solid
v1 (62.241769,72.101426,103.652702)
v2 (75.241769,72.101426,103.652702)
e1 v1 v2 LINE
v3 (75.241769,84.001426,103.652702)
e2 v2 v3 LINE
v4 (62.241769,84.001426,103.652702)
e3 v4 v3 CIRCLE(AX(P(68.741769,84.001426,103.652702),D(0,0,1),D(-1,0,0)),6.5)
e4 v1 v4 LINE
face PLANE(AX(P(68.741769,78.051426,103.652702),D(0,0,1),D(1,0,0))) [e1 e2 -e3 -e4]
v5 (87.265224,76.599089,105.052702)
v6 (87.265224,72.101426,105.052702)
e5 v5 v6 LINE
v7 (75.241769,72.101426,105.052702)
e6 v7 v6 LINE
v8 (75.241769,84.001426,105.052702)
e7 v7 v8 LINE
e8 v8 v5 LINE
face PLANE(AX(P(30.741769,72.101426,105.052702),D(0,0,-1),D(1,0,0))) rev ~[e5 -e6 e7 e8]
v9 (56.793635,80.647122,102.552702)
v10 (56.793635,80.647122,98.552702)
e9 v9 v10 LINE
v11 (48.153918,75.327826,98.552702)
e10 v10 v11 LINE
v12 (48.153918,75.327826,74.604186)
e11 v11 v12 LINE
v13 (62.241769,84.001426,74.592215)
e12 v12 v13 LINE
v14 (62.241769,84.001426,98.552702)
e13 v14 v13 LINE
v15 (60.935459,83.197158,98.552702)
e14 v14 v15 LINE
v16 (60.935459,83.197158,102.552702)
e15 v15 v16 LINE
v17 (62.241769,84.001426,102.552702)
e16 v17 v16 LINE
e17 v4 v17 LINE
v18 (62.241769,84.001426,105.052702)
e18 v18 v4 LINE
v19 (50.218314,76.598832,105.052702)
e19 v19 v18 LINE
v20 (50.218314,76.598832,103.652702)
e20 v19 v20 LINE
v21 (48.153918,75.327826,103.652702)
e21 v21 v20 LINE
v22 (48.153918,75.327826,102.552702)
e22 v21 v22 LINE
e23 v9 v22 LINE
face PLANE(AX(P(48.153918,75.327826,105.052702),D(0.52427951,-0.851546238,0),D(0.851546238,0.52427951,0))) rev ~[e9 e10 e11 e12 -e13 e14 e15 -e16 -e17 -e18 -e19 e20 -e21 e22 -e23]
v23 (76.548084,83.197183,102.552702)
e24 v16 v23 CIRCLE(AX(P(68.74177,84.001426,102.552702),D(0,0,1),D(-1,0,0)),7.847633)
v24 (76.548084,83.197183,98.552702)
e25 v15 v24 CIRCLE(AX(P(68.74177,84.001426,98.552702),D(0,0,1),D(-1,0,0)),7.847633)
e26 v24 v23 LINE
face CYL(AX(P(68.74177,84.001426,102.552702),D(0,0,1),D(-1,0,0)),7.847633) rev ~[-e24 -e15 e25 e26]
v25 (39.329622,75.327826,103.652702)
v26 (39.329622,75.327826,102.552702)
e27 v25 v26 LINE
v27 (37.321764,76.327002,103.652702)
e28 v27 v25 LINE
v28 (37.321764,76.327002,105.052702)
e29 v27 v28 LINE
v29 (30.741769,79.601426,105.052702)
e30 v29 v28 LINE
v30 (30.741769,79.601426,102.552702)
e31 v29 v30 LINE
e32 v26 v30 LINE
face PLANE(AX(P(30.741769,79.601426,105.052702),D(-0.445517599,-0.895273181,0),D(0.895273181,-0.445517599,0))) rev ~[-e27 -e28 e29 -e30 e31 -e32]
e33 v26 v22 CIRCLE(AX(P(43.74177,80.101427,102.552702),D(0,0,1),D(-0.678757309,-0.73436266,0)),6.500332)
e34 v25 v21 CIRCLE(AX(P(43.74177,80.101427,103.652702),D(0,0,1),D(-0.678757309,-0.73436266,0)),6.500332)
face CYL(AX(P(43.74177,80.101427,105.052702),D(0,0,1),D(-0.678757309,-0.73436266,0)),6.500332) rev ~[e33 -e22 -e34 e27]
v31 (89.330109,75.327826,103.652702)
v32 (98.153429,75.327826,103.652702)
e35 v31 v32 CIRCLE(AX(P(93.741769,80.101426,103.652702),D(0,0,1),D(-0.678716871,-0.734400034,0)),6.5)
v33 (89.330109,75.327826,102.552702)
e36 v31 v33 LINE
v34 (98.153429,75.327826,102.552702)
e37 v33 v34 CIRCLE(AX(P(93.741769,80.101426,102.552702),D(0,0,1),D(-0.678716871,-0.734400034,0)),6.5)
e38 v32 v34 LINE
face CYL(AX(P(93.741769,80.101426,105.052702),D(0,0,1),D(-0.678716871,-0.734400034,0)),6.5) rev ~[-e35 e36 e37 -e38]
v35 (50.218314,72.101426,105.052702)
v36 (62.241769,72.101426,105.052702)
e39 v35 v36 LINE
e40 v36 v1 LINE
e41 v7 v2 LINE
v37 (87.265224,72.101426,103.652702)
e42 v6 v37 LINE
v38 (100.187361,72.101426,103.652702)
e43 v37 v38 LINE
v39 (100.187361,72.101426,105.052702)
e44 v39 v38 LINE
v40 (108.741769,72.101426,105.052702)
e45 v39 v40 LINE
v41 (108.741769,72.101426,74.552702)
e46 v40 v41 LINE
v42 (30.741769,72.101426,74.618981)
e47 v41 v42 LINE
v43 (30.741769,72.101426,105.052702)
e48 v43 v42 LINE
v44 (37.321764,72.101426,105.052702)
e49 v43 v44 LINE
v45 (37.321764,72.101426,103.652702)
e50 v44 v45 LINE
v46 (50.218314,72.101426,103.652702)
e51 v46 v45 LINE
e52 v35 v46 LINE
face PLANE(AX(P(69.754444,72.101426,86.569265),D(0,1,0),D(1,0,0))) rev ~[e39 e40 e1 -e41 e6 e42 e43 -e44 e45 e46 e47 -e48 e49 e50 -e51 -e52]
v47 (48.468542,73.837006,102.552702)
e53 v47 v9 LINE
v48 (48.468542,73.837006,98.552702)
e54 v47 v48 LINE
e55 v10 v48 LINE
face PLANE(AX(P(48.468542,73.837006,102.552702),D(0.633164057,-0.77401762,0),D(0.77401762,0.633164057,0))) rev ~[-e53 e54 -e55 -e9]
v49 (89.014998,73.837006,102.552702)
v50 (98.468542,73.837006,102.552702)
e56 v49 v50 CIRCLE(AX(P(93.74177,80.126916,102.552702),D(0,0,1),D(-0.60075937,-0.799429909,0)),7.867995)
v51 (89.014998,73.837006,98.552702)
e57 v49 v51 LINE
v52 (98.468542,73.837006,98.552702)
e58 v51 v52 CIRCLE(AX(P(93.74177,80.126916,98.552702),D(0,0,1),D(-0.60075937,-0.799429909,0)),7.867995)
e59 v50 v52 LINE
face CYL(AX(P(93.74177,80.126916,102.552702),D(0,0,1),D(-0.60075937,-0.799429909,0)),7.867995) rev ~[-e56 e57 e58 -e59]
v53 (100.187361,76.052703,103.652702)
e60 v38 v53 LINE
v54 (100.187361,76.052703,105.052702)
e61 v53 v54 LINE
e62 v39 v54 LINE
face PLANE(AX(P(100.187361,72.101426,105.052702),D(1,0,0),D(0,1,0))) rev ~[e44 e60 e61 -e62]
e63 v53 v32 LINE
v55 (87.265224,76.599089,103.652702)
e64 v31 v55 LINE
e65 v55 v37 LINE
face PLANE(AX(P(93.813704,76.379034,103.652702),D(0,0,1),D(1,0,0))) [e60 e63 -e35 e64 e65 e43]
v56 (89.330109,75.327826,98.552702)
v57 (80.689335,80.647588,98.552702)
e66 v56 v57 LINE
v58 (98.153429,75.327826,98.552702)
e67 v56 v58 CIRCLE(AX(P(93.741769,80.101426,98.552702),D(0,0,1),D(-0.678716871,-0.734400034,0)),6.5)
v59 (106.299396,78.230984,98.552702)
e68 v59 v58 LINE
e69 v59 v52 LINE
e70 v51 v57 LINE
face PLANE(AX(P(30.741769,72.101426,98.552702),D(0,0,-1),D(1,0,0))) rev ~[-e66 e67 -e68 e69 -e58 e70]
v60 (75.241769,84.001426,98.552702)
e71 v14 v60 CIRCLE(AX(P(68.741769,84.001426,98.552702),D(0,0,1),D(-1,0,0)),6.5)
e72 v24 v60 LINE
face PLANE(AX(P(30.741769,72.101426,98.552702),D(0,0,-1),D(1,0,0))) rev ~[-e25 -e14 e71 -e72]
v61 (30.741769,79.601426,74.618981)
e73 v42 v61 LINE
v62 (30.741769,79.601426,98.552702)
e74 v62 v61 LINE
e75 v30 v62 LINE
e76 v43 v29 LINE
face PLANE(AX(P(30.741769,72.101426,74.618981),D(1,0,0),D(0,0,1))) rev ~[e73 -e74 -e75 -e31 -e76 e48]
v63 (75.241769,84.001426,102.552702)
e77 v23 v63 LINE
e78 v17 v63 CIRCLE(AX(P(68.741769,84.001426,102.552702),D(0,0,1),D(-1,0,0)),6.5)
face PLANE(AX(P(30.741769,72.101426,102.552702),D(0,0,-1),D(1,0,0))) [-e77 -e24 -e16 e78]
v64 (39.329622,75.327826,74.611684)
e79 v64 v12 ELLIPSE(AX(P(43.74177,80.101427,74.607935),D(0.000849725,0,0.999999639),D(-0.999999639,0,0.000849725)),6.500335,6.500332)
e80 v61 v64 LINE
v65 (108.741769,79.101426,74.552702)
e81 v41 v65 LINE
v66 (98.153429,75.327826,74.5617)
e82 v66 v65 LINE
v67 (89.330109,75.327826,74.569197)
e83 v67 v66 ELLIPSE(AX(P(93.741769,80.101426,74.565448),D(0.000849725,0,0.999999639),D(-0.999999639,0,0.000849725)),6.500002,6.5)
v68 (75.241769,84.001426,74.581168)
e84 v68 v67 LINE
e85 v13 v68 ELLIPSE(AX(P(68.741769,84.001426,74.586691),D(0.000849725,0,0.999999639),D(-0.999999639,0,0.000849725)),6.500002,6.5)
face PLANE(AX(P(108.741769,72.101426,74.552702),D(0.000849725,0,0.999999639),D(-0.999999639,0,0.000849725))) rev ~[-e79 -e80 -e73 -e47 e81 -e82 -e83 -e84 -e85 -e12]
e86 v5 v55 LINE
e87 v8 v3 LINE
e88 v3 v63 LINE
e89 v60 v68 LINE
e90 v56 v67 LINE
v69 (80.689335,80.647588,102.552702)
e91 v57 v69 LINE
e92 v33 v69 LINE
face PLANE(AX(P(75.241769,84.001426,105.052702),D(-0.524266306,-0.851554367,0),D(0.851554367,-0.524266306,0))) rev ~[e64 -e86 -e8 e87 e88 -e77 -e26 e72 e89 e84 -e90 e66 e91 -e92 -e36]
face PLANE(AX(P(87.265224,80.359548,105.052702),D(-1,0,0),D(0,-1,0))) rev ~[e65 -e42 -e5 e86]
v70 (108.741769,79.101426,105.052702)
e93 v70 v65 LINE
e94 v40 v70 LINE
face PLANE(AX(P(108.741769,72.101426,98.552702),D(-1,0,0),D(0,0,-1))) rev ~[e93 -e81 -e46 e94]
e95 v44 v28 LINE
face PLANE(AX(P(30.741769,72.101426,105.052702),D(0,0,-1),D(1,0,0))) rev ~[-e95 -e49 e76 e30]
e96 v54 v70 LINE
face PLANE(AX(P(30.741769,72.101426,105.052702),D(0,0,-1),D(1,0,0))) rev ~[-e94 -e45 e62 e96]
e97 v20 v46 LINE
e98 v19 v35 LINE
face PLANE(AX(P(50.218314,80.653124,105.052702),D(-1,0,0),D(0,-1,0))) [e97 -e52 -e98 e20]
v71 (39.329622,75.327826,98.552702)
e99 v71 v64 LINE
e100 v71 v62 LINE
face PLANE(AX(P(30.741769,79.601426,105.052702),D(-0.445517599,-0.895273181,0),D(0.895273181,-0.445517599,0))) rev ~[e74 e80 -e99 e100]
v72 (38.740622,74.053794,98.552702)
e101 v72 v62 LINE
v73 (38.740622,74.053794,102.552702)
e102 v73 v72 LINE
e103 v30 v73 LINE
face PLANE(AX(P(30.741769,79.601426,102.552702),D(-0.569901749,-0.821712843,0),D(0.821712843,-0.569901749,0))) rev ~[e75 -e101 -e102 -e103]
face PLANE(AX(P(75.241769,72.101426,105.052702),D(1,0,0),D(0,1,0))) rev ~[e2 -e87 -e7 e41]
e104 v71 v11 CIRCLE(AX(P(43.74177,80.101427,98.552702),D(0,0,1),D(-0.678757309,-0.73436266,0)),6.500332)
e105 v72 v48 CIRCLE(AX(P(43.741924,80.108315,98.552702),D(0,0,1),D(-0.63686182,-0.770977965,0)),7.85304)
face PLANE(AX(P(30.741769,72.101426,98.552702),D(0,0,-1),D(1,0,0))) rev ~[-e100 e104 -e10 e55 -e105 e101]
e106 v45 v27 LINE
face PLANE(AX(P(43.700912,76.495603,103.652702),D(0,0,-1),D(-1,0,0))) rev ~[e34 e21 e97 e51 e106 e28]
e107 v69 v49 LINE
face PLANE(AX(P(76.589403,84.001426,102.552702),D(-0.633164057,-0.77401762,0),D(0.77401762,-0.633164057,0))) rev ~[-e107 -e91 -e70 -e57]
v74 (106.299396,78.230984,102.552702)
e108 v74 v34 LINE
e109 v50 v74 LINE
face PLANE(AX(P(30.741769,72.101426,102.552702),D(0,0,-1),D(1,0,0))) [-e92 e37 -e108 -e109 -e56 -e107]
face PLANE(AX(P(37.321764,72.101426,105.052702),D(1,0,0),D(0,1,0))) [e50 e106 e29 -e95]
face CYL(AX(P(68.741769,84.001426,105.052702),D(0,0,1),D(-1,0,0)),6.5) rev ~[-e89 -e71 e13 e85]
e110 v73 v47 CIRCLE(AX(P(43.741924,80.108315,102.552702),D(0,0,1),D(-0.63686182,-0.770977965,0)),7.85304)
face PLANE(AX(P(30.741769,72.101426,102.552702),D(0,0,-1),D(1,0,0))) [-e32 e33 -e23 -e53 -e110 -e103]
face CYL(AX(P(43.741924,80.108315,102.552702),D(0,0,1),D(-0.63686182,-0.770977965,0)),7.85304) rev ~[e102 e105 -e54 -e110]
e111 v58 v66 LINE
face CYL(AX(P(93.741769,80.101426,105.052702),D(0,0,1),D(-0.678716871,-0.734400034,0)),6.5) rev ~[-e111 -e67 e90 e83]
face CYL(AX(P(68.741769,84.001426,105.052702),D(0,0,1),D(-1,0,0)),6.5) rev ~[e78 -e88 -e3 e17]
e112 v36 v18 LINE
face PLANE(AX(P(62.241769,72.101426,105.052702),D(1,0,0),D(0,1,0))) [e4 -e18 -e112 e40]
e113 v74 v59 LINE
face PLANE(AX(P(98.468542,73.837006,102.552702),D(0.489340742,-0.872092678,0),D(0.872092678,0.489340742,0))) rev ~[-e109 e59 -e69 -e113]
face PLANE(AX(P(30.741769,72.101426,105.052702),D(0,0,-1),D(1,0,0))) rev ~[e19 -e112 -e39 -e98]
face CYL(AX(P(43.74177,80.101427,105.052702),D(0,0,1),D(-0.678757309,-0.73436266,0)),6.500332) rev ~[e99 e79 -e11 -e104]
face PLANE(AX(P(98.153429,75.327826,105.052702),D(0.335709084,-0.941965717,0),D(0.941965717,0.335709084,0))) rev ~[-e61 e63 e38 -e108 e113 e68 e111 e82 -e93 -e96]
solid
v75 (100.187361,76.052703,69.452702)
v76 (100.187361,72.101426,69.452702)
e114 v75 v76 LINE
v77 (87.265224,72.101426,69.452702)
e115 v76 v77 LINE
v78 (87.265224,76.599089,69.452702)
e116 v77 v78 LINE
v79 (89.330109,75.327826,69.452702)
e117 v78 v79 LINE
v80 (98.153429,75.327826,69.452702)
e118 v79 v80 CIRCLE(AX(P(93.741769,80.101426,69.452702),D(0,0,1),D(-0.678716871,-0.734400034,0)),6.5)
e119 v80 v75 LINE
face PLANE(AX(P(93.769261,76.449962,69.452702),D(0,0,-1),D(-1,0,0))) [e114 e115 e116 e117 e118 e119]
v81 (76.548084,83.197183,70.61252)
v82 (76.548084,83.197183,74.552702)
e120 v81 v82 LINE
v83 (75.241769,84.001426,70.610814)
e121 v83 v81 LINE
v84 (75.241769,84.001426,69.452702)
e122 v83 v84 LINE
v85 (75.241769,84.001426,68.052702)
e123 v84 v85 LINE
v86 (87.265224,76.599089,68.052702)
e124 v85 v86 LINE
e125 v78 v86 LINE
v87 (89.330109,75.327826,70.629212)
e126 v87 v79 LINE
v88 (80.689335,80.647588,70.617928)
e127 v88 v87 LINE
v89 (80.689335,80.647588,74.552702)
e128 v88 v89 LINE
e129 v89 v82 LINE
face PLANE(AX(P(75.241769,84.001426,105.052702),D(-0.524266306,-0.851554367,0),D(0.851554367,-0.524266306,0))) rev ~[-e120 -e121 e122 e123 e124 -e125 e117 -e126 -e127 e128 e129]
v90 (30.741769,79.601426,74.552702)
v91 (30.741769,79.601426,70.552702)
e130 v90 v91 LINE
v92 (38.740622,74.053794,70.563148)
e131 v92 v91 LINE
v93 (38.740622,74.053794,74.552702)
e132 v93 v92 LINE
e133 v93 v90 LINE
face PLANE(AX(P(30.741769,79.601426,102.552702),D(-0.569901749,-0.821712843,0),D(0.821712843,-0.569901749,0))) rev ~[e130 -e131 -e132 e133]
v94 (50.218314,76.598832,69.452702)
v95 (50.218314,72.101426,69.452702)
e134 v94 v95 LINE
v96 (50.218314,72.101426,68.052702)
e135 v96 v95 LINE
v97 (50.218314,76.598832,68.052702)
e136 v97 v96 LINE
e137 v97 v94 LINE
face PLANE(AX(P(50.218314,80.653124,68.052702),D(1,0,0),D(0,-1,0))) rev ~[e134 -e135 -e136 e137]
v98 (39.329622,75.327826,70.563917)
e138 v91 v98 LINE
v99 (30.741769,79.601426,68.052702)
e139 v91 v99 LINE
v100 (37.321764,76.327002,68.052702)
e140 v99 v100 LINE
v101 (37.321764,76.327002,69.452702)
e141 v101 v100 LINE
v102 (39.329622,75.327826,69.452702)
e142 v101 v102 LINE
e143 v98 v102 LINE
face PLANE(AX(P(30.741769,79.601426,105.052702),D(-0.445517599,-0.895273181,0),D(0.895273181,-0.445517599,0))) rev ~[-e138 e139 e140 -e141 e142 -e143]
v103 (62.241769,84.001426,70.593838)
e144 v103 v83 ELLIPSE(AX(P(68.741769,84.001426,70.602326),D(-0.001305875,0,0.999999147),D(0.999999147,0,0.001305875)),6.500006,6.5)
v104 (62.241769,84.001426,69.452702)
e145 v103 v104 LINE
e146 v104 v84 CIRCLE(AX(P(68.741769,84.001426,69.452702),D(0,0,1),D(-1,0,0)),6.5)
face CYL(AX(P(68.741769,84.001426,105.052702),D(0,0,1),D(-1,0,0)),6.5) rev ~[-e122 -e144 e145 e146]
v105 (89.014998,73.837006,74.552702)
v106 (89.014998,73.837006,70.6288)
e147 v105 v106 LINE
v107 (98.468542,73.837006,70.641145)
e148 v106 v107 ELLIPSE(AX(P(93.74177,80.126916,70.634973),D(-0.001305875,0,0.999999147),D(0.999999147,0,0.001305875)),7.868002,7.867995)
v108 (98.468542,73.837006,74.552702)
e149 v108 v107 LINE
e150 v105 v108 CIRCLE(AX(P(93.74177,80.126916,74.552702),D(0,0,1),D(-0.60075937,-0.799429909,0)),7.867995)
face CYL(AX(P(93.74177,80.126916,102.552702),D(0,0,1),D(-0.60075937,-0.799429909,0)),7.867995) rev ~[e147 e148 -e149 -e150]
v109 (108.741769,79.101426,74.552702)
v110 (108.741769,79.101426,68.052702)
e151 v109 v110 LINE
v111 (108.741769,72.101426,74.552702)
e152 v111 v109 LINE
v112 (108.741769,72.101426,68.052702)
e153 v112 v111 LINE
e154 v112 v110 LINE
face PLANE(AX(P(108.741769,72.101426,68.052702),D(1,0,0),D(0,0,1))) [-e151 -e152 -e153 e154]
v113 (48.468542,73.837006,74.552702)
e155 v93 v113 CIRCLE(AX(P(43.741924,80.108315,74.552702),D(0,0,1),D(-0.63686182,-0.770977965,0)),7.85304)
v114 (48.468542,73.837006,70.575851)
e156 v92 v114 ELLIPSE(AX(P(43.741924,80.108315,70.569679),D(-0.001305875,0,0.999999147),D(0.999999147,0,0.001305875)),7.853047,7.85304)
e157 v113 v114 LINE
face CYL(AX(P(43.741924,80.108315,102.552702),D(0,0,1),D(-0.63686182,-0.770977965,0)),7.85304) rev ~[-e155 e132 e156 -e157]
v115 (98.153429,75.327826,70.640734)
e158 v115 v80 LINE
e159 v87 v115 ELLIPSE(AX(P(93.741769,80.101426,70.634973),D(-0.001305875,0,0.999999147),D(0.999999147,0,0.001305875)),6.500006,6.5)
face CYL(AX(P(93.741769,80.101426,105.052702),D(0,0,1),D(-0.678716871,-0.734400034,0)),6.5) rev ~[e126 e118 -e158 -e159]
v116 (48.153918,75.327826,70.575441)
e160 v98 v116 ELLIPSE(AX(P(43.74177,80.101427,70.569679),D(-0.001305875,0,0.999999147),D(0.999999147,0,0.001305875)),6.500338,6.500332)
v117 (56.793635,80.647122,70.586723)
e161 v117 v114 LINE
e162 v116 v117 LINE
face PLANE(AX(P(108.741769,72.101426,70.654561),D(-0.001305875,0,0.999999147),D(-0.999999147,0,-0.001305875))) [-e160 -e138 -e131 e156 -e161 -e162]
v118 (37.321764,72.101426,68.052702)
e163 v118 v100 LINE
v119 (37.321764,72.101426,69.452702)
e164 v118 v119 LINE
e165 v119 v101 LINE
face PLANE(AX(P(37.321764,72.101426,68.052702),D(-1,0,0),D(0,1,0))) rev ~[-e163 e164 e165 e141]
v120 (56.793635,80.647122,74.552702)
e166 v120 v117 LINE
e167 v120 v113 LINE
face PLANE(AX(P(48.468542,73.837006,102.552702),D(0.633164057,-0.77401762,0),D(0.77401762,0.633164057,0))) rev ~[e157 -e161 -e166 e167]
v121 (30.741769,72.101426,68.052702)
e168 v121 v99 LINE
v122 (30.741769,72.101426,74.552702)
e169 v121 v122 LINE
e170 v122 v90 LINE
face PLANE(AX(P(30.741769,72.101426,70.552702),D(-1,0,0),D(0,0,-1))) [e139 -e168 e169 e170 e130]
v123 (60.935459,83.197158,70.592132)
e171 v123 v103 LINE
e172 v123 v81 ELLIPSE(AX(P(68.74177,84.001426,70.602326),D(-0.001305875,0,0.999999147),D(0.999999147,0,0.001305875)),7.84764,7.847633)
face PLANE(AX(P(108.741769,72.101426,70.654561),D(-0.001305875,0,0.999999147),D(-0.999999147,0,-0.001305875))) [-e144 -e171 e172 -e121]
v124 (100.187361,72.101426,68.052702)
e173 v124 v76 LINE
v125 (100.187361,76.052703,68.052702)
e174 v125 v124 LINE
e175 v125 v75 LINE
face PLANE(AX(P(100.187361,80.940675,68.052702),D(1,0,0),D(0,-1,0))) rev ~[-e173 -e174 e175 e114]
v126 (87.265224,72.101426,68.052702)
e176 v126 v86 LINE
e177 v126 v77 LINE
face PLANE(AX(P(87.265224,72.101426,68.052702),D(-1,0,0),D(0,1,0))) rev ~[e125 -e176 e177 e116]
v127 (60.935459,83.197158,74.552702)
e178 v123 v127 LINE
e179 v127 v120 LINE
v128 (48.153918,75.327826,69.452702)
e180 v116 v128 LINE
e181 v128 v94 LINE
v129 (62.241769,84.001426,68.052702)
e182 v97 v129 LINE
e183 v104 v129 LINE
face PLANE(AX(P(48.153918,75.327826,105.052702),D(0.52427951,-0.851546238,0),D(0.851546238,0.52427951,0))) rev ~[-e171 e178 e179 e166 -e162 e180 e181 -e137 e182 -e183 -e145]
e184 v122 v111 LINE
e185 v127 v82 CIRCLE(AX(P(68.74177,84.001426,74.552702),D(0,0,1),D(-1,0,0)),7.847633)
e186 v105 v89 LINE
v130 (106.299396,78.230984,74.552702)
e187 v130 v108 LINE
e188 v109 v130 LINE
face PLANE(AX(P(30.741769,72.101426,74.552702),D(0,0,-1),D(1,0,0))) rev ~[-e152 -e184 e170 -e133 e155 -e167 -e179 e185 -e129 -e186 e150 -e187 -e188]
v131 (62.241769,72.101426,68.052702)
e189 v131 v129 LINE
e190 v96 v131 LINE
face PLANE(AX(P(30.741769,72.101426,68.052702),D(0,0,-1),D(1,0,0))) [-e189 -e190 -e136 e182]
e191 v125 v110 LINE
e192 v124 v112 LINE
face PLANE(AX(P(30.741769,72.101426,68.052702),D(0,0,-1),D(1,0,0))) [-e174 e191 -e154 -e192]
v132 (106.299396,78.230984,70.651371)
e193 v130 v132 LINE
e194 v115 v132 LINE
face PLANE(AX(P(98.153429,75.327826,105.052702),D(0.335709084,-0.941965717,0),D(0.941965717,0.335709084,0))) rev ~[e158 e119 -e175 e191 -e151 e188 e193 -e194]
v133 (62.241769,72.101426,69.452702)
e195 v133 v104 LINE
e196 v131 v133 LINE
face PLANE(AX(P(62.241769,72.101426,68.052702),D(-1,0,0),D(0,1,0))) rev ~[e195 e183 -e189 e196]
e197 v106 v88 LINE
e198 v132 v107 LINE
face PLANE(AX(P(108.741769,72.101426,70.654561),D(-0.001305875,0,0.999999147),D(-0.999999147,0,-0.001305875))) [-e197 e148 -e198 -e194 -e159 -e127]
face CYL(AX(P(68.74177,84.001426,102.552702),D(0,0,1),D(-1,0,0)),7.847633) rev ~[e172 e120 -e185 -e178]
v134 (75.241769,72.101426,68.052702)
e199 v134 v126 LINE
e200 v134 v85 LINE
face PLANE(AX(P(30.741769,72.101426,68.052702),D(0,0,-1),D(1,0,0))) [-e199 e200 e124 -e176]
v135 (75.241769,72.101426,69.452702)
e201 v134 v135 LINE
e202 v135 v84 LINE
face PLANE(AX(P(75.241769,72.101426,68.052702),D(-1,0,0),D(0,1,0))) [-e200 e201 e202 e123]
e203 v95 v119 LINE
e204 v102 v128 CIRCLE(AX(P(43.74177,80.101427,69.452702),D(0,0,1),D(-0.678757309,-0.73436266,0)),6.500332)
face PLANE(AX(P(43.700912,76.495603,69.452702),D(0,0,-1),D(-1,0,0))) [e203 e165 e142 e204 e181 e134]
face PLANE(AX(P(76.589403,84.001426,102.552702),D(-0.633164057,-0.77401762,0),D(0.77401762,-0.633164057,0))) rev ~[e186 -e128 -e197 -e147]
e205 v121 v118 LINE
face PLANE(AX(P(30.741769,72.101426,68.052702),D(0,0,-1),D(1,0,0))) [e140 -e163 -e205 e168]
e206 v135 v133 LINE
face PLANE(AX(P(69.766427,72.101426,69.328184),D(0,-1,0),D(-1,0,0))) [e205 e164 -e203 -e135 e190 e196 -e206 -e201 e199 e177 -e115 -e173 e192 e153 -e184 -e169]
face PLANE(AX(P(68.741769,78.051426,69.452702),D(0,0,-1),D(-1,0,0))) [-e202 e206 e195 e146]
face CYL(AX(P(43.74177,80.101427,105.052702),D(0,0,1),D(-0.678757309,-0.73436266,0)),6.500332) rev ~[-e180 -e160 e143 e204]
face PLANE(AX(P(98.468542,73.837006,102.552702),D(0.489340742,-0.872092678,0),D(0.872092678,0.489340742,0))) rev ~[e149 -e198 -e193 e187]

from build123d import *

# Parameters (mm, degrees)
SKETCH_1_W          = 78
SKETCH_1_H          = 4
EXTRUDE_1_DEPTH     = 15
EXTRUDE_1_2_DEPTH   = 15
CUT_EXTRUDE_1_DEPTH = 32
SKETCH_3_W          = 78
SKETCH_3_H          = 2.5
EXTRUDE_2_DEPTH     = 15
CUT_EXTRUDE_5_DEPTH = 37
SKETCH_5_W          = 13
SKETCH_5_H          = 11.9
CUT_EXTRUDE_6_DEPTH = 1.4
SKETCH_6_W          = 13
SKETCH_6_H          = 11.9
CUT_EXTRUDE_7_DEPTH = 1.4


with BuildPart() as part:
    # Эскиз1 → Бобышка-Вытянуть1 (new body)
    with BuildSketch(Plane(origin=(0, 72.101425994, 0), x_dir=(1, 0, 0), z_dir=(0, 1, 0))):
        with Locations((69.741769048, -100.552702475)):
            Rectangle(SKETCH_1_W, SKETCH_1_H)
    extrude(amount=EXTRUDE_1_DEPTH)


with BuildPart() as body_2:
    # Эскиз1 → Extrude 1 2 (new body)
    with BuildSketch(Plane(origin=(0, 72.101425994, 0), x_dir=(1, 0, 0), z_dir=(0, 1, 0))):
        with Locations((69.741769048, -72.552702475)):
            Rectangle(SKETCH_1_W, SKETCH_1_H)
    extrude(amount=EXTRUDE_1_2_DEPTH)


with BuildPart() as cut_extrude_1_tool:
    # Эскиз2 → Вырез-Вытянуть1 (new body)
    with BuildSketch(Plane.XY.offset(102.552702475)):
        with BuildLine():
            Line((30.741769048, 87.101425994), (30.741769048, 79.601425994))
            Line((30.741769048, 79.601425994), (38.7406223, 74.053793994))
            ThreePointArc((38.7406223, 74.053793994), (43.566960712, 72.257224124), (48.468541666, 73.837005729))
            Line((48.468541666, 73.837005729), (60.894137048, 84.001425994))
            ThreePointArc((60.894137048, 84.001425994), (68.741770048, 76.153792994), (76.589403048, 84.001425994))
            Line((76.589403048, 84.001425994), (89.014998431, 73.837005729))
            ThreePointArc((89.014998431, 73.837005729), (93.741770048, 72.25892129), (98.468541666, 73.837005729))
            Line((98.468541666, 73.837005729), (108.741769048, 79.601425994))
            Line((108.741769048, 79.601425994), (108.741769048, 87.101425994))
            Line((108.741769048, 87.101425994), (30.741769048, 87.101425994))
        make_face()
    extrude(amount=-CUT_EXTRUDE_1_DEPTH)


with BuildPart() as part_1:
    add(part.part)

    # Вырез-Вытянуть1: cut by cut_extrude_1_tool
    add(cut_extrude_1_tool.part, mode=Mode.SUBTRACT)



with BuildPart() as body_2_1:
    add(body_2.part)

    # Вырез-Вытянуть1: cut by cut_extrude_1_tool
    add(cut_extrude_1_tool.part, mode=Mode.SUBTRACT)


with BuildPart() as part_2:
    add(part_1.part)

    add(body_2_1.part)  # Бобышка-Вытянуть2 merges body 2
    # Эскиз3 → Бобышка-Вытянуть2 (add)
    with BuildSketch(Plane(origin=(0, 72.101425994, 0), x_dir=(1, 0, 0), z_dir=(0, 1, 0))):
        Polygon((30.741769048, -70.552702475), (30.741769048, -68.052702475), (108.741769048, -68.052702475), (108.741769048, -70.654560826), align=None)
        Polygon((30.741769048, -74.618981064), (30.741769048, -98.552702475), (108.741769048, -98.552702475), (108.741769048, -74.552702475), align=None)
        with Locations((69.741769048, -103.802702475)):
            Rectangle(SKETCH_3_W, SKETCH_3_H)
    extrude(amount=EXTRUDE_2_DEPTH)

    # Эскиз4 → Вырез-Вытянуть5 (cut)
    with BuildSketch(Plane.XY.offset(105.052702475)):
        with BuildLine():
            Line((30.741769048, 79.601425994), (39.329622083, 75.327825775))
            ThreePointArc((39.329622083, 75.327825775), (43.741770048, 73.601094828), (48.153918014, 75.327825775))
            Line((48.153918014, 75.327825775), (62.241769048, 84.001425994))
            ThreePointArc((62.241769048, 84.001425994), (68.741769048, 77.501425994), (75.241769048, 84.001425994))
            Line((75.241769048, 84.001425994), (89.330109389, 75.327825775))
            ThreePointArc((89.330109389, 75.327825775), (93.741769048, 73.601425994), (98.153428707, 75.327825775))
            Line((98.153428707, 75.327825775), (108.741769048, 79.101425994))
            Line((108.741769048, 79.101425994), (108.741769048, 87.101425994))
            Line((108.741769048, 87.101425994), (30.741769048, 87.101425994))
            Line((30.741769048, 87.101425994), (30.741769048, 79.601425994))
        make_face()
    extrude(amount=-CUT_EXTRUDE_5_DEPTH, mode=Mode.SUBTRACT)

    # Эскиз5 → Вырез-Вытянуть6 (cut)
    with BuildSketch(Plane.XY.offset(105.052702475)):
        with Locations((68.741769048, 78.051425994)):
            Rectangle(SKETCH_5_W, SKETCH_5_H)
        Polygon((100.187361471, 80.940674659), (87.265224484, 80.359547889), (87.265224484, 72.101425994), (100.187361471, 72.101425994), align=None)
        Polygon((50.218313612, 80.653123839), (37.321764311, 81.118057283), (37.321764311, 72.101425994), (50.218313612, 72.101425994), align=None)
    extrude(amount=-CUT_EXTRUDE_6_DEPTH, mode=Mode.SUBTRACT)

    # Эскиз6 → Вырез-Вытянуть7 (cut)
    with BuildSketch(Plane(origin=(0, 0, 68.052702475), x_dir=(-1, 0, 0), z_dir=(0, 0, -1))):
        Polygon((-100.187361471, 80.940674659), (-100.187361471, 72.101425994), (-87.265224484, 72.101425994), (-87.265224484, 80.653123839), align=None)
        with Locations((-68.741769048, 78.051425994)):
            Rectangle(SKETCH_6_W, SKETCH_6_H)
        Polygon((-50.218313612, 80.653123839), (-50.218313612, 72.101425994), (-37.321764311, 72.101425994), (-37.321764311, 81.118057283), align=None)
    extrude(amount=-CUT_EXTRUDE_7_DEPTH, mode=Mode.SUBTRACT)


solid = part_2.part
